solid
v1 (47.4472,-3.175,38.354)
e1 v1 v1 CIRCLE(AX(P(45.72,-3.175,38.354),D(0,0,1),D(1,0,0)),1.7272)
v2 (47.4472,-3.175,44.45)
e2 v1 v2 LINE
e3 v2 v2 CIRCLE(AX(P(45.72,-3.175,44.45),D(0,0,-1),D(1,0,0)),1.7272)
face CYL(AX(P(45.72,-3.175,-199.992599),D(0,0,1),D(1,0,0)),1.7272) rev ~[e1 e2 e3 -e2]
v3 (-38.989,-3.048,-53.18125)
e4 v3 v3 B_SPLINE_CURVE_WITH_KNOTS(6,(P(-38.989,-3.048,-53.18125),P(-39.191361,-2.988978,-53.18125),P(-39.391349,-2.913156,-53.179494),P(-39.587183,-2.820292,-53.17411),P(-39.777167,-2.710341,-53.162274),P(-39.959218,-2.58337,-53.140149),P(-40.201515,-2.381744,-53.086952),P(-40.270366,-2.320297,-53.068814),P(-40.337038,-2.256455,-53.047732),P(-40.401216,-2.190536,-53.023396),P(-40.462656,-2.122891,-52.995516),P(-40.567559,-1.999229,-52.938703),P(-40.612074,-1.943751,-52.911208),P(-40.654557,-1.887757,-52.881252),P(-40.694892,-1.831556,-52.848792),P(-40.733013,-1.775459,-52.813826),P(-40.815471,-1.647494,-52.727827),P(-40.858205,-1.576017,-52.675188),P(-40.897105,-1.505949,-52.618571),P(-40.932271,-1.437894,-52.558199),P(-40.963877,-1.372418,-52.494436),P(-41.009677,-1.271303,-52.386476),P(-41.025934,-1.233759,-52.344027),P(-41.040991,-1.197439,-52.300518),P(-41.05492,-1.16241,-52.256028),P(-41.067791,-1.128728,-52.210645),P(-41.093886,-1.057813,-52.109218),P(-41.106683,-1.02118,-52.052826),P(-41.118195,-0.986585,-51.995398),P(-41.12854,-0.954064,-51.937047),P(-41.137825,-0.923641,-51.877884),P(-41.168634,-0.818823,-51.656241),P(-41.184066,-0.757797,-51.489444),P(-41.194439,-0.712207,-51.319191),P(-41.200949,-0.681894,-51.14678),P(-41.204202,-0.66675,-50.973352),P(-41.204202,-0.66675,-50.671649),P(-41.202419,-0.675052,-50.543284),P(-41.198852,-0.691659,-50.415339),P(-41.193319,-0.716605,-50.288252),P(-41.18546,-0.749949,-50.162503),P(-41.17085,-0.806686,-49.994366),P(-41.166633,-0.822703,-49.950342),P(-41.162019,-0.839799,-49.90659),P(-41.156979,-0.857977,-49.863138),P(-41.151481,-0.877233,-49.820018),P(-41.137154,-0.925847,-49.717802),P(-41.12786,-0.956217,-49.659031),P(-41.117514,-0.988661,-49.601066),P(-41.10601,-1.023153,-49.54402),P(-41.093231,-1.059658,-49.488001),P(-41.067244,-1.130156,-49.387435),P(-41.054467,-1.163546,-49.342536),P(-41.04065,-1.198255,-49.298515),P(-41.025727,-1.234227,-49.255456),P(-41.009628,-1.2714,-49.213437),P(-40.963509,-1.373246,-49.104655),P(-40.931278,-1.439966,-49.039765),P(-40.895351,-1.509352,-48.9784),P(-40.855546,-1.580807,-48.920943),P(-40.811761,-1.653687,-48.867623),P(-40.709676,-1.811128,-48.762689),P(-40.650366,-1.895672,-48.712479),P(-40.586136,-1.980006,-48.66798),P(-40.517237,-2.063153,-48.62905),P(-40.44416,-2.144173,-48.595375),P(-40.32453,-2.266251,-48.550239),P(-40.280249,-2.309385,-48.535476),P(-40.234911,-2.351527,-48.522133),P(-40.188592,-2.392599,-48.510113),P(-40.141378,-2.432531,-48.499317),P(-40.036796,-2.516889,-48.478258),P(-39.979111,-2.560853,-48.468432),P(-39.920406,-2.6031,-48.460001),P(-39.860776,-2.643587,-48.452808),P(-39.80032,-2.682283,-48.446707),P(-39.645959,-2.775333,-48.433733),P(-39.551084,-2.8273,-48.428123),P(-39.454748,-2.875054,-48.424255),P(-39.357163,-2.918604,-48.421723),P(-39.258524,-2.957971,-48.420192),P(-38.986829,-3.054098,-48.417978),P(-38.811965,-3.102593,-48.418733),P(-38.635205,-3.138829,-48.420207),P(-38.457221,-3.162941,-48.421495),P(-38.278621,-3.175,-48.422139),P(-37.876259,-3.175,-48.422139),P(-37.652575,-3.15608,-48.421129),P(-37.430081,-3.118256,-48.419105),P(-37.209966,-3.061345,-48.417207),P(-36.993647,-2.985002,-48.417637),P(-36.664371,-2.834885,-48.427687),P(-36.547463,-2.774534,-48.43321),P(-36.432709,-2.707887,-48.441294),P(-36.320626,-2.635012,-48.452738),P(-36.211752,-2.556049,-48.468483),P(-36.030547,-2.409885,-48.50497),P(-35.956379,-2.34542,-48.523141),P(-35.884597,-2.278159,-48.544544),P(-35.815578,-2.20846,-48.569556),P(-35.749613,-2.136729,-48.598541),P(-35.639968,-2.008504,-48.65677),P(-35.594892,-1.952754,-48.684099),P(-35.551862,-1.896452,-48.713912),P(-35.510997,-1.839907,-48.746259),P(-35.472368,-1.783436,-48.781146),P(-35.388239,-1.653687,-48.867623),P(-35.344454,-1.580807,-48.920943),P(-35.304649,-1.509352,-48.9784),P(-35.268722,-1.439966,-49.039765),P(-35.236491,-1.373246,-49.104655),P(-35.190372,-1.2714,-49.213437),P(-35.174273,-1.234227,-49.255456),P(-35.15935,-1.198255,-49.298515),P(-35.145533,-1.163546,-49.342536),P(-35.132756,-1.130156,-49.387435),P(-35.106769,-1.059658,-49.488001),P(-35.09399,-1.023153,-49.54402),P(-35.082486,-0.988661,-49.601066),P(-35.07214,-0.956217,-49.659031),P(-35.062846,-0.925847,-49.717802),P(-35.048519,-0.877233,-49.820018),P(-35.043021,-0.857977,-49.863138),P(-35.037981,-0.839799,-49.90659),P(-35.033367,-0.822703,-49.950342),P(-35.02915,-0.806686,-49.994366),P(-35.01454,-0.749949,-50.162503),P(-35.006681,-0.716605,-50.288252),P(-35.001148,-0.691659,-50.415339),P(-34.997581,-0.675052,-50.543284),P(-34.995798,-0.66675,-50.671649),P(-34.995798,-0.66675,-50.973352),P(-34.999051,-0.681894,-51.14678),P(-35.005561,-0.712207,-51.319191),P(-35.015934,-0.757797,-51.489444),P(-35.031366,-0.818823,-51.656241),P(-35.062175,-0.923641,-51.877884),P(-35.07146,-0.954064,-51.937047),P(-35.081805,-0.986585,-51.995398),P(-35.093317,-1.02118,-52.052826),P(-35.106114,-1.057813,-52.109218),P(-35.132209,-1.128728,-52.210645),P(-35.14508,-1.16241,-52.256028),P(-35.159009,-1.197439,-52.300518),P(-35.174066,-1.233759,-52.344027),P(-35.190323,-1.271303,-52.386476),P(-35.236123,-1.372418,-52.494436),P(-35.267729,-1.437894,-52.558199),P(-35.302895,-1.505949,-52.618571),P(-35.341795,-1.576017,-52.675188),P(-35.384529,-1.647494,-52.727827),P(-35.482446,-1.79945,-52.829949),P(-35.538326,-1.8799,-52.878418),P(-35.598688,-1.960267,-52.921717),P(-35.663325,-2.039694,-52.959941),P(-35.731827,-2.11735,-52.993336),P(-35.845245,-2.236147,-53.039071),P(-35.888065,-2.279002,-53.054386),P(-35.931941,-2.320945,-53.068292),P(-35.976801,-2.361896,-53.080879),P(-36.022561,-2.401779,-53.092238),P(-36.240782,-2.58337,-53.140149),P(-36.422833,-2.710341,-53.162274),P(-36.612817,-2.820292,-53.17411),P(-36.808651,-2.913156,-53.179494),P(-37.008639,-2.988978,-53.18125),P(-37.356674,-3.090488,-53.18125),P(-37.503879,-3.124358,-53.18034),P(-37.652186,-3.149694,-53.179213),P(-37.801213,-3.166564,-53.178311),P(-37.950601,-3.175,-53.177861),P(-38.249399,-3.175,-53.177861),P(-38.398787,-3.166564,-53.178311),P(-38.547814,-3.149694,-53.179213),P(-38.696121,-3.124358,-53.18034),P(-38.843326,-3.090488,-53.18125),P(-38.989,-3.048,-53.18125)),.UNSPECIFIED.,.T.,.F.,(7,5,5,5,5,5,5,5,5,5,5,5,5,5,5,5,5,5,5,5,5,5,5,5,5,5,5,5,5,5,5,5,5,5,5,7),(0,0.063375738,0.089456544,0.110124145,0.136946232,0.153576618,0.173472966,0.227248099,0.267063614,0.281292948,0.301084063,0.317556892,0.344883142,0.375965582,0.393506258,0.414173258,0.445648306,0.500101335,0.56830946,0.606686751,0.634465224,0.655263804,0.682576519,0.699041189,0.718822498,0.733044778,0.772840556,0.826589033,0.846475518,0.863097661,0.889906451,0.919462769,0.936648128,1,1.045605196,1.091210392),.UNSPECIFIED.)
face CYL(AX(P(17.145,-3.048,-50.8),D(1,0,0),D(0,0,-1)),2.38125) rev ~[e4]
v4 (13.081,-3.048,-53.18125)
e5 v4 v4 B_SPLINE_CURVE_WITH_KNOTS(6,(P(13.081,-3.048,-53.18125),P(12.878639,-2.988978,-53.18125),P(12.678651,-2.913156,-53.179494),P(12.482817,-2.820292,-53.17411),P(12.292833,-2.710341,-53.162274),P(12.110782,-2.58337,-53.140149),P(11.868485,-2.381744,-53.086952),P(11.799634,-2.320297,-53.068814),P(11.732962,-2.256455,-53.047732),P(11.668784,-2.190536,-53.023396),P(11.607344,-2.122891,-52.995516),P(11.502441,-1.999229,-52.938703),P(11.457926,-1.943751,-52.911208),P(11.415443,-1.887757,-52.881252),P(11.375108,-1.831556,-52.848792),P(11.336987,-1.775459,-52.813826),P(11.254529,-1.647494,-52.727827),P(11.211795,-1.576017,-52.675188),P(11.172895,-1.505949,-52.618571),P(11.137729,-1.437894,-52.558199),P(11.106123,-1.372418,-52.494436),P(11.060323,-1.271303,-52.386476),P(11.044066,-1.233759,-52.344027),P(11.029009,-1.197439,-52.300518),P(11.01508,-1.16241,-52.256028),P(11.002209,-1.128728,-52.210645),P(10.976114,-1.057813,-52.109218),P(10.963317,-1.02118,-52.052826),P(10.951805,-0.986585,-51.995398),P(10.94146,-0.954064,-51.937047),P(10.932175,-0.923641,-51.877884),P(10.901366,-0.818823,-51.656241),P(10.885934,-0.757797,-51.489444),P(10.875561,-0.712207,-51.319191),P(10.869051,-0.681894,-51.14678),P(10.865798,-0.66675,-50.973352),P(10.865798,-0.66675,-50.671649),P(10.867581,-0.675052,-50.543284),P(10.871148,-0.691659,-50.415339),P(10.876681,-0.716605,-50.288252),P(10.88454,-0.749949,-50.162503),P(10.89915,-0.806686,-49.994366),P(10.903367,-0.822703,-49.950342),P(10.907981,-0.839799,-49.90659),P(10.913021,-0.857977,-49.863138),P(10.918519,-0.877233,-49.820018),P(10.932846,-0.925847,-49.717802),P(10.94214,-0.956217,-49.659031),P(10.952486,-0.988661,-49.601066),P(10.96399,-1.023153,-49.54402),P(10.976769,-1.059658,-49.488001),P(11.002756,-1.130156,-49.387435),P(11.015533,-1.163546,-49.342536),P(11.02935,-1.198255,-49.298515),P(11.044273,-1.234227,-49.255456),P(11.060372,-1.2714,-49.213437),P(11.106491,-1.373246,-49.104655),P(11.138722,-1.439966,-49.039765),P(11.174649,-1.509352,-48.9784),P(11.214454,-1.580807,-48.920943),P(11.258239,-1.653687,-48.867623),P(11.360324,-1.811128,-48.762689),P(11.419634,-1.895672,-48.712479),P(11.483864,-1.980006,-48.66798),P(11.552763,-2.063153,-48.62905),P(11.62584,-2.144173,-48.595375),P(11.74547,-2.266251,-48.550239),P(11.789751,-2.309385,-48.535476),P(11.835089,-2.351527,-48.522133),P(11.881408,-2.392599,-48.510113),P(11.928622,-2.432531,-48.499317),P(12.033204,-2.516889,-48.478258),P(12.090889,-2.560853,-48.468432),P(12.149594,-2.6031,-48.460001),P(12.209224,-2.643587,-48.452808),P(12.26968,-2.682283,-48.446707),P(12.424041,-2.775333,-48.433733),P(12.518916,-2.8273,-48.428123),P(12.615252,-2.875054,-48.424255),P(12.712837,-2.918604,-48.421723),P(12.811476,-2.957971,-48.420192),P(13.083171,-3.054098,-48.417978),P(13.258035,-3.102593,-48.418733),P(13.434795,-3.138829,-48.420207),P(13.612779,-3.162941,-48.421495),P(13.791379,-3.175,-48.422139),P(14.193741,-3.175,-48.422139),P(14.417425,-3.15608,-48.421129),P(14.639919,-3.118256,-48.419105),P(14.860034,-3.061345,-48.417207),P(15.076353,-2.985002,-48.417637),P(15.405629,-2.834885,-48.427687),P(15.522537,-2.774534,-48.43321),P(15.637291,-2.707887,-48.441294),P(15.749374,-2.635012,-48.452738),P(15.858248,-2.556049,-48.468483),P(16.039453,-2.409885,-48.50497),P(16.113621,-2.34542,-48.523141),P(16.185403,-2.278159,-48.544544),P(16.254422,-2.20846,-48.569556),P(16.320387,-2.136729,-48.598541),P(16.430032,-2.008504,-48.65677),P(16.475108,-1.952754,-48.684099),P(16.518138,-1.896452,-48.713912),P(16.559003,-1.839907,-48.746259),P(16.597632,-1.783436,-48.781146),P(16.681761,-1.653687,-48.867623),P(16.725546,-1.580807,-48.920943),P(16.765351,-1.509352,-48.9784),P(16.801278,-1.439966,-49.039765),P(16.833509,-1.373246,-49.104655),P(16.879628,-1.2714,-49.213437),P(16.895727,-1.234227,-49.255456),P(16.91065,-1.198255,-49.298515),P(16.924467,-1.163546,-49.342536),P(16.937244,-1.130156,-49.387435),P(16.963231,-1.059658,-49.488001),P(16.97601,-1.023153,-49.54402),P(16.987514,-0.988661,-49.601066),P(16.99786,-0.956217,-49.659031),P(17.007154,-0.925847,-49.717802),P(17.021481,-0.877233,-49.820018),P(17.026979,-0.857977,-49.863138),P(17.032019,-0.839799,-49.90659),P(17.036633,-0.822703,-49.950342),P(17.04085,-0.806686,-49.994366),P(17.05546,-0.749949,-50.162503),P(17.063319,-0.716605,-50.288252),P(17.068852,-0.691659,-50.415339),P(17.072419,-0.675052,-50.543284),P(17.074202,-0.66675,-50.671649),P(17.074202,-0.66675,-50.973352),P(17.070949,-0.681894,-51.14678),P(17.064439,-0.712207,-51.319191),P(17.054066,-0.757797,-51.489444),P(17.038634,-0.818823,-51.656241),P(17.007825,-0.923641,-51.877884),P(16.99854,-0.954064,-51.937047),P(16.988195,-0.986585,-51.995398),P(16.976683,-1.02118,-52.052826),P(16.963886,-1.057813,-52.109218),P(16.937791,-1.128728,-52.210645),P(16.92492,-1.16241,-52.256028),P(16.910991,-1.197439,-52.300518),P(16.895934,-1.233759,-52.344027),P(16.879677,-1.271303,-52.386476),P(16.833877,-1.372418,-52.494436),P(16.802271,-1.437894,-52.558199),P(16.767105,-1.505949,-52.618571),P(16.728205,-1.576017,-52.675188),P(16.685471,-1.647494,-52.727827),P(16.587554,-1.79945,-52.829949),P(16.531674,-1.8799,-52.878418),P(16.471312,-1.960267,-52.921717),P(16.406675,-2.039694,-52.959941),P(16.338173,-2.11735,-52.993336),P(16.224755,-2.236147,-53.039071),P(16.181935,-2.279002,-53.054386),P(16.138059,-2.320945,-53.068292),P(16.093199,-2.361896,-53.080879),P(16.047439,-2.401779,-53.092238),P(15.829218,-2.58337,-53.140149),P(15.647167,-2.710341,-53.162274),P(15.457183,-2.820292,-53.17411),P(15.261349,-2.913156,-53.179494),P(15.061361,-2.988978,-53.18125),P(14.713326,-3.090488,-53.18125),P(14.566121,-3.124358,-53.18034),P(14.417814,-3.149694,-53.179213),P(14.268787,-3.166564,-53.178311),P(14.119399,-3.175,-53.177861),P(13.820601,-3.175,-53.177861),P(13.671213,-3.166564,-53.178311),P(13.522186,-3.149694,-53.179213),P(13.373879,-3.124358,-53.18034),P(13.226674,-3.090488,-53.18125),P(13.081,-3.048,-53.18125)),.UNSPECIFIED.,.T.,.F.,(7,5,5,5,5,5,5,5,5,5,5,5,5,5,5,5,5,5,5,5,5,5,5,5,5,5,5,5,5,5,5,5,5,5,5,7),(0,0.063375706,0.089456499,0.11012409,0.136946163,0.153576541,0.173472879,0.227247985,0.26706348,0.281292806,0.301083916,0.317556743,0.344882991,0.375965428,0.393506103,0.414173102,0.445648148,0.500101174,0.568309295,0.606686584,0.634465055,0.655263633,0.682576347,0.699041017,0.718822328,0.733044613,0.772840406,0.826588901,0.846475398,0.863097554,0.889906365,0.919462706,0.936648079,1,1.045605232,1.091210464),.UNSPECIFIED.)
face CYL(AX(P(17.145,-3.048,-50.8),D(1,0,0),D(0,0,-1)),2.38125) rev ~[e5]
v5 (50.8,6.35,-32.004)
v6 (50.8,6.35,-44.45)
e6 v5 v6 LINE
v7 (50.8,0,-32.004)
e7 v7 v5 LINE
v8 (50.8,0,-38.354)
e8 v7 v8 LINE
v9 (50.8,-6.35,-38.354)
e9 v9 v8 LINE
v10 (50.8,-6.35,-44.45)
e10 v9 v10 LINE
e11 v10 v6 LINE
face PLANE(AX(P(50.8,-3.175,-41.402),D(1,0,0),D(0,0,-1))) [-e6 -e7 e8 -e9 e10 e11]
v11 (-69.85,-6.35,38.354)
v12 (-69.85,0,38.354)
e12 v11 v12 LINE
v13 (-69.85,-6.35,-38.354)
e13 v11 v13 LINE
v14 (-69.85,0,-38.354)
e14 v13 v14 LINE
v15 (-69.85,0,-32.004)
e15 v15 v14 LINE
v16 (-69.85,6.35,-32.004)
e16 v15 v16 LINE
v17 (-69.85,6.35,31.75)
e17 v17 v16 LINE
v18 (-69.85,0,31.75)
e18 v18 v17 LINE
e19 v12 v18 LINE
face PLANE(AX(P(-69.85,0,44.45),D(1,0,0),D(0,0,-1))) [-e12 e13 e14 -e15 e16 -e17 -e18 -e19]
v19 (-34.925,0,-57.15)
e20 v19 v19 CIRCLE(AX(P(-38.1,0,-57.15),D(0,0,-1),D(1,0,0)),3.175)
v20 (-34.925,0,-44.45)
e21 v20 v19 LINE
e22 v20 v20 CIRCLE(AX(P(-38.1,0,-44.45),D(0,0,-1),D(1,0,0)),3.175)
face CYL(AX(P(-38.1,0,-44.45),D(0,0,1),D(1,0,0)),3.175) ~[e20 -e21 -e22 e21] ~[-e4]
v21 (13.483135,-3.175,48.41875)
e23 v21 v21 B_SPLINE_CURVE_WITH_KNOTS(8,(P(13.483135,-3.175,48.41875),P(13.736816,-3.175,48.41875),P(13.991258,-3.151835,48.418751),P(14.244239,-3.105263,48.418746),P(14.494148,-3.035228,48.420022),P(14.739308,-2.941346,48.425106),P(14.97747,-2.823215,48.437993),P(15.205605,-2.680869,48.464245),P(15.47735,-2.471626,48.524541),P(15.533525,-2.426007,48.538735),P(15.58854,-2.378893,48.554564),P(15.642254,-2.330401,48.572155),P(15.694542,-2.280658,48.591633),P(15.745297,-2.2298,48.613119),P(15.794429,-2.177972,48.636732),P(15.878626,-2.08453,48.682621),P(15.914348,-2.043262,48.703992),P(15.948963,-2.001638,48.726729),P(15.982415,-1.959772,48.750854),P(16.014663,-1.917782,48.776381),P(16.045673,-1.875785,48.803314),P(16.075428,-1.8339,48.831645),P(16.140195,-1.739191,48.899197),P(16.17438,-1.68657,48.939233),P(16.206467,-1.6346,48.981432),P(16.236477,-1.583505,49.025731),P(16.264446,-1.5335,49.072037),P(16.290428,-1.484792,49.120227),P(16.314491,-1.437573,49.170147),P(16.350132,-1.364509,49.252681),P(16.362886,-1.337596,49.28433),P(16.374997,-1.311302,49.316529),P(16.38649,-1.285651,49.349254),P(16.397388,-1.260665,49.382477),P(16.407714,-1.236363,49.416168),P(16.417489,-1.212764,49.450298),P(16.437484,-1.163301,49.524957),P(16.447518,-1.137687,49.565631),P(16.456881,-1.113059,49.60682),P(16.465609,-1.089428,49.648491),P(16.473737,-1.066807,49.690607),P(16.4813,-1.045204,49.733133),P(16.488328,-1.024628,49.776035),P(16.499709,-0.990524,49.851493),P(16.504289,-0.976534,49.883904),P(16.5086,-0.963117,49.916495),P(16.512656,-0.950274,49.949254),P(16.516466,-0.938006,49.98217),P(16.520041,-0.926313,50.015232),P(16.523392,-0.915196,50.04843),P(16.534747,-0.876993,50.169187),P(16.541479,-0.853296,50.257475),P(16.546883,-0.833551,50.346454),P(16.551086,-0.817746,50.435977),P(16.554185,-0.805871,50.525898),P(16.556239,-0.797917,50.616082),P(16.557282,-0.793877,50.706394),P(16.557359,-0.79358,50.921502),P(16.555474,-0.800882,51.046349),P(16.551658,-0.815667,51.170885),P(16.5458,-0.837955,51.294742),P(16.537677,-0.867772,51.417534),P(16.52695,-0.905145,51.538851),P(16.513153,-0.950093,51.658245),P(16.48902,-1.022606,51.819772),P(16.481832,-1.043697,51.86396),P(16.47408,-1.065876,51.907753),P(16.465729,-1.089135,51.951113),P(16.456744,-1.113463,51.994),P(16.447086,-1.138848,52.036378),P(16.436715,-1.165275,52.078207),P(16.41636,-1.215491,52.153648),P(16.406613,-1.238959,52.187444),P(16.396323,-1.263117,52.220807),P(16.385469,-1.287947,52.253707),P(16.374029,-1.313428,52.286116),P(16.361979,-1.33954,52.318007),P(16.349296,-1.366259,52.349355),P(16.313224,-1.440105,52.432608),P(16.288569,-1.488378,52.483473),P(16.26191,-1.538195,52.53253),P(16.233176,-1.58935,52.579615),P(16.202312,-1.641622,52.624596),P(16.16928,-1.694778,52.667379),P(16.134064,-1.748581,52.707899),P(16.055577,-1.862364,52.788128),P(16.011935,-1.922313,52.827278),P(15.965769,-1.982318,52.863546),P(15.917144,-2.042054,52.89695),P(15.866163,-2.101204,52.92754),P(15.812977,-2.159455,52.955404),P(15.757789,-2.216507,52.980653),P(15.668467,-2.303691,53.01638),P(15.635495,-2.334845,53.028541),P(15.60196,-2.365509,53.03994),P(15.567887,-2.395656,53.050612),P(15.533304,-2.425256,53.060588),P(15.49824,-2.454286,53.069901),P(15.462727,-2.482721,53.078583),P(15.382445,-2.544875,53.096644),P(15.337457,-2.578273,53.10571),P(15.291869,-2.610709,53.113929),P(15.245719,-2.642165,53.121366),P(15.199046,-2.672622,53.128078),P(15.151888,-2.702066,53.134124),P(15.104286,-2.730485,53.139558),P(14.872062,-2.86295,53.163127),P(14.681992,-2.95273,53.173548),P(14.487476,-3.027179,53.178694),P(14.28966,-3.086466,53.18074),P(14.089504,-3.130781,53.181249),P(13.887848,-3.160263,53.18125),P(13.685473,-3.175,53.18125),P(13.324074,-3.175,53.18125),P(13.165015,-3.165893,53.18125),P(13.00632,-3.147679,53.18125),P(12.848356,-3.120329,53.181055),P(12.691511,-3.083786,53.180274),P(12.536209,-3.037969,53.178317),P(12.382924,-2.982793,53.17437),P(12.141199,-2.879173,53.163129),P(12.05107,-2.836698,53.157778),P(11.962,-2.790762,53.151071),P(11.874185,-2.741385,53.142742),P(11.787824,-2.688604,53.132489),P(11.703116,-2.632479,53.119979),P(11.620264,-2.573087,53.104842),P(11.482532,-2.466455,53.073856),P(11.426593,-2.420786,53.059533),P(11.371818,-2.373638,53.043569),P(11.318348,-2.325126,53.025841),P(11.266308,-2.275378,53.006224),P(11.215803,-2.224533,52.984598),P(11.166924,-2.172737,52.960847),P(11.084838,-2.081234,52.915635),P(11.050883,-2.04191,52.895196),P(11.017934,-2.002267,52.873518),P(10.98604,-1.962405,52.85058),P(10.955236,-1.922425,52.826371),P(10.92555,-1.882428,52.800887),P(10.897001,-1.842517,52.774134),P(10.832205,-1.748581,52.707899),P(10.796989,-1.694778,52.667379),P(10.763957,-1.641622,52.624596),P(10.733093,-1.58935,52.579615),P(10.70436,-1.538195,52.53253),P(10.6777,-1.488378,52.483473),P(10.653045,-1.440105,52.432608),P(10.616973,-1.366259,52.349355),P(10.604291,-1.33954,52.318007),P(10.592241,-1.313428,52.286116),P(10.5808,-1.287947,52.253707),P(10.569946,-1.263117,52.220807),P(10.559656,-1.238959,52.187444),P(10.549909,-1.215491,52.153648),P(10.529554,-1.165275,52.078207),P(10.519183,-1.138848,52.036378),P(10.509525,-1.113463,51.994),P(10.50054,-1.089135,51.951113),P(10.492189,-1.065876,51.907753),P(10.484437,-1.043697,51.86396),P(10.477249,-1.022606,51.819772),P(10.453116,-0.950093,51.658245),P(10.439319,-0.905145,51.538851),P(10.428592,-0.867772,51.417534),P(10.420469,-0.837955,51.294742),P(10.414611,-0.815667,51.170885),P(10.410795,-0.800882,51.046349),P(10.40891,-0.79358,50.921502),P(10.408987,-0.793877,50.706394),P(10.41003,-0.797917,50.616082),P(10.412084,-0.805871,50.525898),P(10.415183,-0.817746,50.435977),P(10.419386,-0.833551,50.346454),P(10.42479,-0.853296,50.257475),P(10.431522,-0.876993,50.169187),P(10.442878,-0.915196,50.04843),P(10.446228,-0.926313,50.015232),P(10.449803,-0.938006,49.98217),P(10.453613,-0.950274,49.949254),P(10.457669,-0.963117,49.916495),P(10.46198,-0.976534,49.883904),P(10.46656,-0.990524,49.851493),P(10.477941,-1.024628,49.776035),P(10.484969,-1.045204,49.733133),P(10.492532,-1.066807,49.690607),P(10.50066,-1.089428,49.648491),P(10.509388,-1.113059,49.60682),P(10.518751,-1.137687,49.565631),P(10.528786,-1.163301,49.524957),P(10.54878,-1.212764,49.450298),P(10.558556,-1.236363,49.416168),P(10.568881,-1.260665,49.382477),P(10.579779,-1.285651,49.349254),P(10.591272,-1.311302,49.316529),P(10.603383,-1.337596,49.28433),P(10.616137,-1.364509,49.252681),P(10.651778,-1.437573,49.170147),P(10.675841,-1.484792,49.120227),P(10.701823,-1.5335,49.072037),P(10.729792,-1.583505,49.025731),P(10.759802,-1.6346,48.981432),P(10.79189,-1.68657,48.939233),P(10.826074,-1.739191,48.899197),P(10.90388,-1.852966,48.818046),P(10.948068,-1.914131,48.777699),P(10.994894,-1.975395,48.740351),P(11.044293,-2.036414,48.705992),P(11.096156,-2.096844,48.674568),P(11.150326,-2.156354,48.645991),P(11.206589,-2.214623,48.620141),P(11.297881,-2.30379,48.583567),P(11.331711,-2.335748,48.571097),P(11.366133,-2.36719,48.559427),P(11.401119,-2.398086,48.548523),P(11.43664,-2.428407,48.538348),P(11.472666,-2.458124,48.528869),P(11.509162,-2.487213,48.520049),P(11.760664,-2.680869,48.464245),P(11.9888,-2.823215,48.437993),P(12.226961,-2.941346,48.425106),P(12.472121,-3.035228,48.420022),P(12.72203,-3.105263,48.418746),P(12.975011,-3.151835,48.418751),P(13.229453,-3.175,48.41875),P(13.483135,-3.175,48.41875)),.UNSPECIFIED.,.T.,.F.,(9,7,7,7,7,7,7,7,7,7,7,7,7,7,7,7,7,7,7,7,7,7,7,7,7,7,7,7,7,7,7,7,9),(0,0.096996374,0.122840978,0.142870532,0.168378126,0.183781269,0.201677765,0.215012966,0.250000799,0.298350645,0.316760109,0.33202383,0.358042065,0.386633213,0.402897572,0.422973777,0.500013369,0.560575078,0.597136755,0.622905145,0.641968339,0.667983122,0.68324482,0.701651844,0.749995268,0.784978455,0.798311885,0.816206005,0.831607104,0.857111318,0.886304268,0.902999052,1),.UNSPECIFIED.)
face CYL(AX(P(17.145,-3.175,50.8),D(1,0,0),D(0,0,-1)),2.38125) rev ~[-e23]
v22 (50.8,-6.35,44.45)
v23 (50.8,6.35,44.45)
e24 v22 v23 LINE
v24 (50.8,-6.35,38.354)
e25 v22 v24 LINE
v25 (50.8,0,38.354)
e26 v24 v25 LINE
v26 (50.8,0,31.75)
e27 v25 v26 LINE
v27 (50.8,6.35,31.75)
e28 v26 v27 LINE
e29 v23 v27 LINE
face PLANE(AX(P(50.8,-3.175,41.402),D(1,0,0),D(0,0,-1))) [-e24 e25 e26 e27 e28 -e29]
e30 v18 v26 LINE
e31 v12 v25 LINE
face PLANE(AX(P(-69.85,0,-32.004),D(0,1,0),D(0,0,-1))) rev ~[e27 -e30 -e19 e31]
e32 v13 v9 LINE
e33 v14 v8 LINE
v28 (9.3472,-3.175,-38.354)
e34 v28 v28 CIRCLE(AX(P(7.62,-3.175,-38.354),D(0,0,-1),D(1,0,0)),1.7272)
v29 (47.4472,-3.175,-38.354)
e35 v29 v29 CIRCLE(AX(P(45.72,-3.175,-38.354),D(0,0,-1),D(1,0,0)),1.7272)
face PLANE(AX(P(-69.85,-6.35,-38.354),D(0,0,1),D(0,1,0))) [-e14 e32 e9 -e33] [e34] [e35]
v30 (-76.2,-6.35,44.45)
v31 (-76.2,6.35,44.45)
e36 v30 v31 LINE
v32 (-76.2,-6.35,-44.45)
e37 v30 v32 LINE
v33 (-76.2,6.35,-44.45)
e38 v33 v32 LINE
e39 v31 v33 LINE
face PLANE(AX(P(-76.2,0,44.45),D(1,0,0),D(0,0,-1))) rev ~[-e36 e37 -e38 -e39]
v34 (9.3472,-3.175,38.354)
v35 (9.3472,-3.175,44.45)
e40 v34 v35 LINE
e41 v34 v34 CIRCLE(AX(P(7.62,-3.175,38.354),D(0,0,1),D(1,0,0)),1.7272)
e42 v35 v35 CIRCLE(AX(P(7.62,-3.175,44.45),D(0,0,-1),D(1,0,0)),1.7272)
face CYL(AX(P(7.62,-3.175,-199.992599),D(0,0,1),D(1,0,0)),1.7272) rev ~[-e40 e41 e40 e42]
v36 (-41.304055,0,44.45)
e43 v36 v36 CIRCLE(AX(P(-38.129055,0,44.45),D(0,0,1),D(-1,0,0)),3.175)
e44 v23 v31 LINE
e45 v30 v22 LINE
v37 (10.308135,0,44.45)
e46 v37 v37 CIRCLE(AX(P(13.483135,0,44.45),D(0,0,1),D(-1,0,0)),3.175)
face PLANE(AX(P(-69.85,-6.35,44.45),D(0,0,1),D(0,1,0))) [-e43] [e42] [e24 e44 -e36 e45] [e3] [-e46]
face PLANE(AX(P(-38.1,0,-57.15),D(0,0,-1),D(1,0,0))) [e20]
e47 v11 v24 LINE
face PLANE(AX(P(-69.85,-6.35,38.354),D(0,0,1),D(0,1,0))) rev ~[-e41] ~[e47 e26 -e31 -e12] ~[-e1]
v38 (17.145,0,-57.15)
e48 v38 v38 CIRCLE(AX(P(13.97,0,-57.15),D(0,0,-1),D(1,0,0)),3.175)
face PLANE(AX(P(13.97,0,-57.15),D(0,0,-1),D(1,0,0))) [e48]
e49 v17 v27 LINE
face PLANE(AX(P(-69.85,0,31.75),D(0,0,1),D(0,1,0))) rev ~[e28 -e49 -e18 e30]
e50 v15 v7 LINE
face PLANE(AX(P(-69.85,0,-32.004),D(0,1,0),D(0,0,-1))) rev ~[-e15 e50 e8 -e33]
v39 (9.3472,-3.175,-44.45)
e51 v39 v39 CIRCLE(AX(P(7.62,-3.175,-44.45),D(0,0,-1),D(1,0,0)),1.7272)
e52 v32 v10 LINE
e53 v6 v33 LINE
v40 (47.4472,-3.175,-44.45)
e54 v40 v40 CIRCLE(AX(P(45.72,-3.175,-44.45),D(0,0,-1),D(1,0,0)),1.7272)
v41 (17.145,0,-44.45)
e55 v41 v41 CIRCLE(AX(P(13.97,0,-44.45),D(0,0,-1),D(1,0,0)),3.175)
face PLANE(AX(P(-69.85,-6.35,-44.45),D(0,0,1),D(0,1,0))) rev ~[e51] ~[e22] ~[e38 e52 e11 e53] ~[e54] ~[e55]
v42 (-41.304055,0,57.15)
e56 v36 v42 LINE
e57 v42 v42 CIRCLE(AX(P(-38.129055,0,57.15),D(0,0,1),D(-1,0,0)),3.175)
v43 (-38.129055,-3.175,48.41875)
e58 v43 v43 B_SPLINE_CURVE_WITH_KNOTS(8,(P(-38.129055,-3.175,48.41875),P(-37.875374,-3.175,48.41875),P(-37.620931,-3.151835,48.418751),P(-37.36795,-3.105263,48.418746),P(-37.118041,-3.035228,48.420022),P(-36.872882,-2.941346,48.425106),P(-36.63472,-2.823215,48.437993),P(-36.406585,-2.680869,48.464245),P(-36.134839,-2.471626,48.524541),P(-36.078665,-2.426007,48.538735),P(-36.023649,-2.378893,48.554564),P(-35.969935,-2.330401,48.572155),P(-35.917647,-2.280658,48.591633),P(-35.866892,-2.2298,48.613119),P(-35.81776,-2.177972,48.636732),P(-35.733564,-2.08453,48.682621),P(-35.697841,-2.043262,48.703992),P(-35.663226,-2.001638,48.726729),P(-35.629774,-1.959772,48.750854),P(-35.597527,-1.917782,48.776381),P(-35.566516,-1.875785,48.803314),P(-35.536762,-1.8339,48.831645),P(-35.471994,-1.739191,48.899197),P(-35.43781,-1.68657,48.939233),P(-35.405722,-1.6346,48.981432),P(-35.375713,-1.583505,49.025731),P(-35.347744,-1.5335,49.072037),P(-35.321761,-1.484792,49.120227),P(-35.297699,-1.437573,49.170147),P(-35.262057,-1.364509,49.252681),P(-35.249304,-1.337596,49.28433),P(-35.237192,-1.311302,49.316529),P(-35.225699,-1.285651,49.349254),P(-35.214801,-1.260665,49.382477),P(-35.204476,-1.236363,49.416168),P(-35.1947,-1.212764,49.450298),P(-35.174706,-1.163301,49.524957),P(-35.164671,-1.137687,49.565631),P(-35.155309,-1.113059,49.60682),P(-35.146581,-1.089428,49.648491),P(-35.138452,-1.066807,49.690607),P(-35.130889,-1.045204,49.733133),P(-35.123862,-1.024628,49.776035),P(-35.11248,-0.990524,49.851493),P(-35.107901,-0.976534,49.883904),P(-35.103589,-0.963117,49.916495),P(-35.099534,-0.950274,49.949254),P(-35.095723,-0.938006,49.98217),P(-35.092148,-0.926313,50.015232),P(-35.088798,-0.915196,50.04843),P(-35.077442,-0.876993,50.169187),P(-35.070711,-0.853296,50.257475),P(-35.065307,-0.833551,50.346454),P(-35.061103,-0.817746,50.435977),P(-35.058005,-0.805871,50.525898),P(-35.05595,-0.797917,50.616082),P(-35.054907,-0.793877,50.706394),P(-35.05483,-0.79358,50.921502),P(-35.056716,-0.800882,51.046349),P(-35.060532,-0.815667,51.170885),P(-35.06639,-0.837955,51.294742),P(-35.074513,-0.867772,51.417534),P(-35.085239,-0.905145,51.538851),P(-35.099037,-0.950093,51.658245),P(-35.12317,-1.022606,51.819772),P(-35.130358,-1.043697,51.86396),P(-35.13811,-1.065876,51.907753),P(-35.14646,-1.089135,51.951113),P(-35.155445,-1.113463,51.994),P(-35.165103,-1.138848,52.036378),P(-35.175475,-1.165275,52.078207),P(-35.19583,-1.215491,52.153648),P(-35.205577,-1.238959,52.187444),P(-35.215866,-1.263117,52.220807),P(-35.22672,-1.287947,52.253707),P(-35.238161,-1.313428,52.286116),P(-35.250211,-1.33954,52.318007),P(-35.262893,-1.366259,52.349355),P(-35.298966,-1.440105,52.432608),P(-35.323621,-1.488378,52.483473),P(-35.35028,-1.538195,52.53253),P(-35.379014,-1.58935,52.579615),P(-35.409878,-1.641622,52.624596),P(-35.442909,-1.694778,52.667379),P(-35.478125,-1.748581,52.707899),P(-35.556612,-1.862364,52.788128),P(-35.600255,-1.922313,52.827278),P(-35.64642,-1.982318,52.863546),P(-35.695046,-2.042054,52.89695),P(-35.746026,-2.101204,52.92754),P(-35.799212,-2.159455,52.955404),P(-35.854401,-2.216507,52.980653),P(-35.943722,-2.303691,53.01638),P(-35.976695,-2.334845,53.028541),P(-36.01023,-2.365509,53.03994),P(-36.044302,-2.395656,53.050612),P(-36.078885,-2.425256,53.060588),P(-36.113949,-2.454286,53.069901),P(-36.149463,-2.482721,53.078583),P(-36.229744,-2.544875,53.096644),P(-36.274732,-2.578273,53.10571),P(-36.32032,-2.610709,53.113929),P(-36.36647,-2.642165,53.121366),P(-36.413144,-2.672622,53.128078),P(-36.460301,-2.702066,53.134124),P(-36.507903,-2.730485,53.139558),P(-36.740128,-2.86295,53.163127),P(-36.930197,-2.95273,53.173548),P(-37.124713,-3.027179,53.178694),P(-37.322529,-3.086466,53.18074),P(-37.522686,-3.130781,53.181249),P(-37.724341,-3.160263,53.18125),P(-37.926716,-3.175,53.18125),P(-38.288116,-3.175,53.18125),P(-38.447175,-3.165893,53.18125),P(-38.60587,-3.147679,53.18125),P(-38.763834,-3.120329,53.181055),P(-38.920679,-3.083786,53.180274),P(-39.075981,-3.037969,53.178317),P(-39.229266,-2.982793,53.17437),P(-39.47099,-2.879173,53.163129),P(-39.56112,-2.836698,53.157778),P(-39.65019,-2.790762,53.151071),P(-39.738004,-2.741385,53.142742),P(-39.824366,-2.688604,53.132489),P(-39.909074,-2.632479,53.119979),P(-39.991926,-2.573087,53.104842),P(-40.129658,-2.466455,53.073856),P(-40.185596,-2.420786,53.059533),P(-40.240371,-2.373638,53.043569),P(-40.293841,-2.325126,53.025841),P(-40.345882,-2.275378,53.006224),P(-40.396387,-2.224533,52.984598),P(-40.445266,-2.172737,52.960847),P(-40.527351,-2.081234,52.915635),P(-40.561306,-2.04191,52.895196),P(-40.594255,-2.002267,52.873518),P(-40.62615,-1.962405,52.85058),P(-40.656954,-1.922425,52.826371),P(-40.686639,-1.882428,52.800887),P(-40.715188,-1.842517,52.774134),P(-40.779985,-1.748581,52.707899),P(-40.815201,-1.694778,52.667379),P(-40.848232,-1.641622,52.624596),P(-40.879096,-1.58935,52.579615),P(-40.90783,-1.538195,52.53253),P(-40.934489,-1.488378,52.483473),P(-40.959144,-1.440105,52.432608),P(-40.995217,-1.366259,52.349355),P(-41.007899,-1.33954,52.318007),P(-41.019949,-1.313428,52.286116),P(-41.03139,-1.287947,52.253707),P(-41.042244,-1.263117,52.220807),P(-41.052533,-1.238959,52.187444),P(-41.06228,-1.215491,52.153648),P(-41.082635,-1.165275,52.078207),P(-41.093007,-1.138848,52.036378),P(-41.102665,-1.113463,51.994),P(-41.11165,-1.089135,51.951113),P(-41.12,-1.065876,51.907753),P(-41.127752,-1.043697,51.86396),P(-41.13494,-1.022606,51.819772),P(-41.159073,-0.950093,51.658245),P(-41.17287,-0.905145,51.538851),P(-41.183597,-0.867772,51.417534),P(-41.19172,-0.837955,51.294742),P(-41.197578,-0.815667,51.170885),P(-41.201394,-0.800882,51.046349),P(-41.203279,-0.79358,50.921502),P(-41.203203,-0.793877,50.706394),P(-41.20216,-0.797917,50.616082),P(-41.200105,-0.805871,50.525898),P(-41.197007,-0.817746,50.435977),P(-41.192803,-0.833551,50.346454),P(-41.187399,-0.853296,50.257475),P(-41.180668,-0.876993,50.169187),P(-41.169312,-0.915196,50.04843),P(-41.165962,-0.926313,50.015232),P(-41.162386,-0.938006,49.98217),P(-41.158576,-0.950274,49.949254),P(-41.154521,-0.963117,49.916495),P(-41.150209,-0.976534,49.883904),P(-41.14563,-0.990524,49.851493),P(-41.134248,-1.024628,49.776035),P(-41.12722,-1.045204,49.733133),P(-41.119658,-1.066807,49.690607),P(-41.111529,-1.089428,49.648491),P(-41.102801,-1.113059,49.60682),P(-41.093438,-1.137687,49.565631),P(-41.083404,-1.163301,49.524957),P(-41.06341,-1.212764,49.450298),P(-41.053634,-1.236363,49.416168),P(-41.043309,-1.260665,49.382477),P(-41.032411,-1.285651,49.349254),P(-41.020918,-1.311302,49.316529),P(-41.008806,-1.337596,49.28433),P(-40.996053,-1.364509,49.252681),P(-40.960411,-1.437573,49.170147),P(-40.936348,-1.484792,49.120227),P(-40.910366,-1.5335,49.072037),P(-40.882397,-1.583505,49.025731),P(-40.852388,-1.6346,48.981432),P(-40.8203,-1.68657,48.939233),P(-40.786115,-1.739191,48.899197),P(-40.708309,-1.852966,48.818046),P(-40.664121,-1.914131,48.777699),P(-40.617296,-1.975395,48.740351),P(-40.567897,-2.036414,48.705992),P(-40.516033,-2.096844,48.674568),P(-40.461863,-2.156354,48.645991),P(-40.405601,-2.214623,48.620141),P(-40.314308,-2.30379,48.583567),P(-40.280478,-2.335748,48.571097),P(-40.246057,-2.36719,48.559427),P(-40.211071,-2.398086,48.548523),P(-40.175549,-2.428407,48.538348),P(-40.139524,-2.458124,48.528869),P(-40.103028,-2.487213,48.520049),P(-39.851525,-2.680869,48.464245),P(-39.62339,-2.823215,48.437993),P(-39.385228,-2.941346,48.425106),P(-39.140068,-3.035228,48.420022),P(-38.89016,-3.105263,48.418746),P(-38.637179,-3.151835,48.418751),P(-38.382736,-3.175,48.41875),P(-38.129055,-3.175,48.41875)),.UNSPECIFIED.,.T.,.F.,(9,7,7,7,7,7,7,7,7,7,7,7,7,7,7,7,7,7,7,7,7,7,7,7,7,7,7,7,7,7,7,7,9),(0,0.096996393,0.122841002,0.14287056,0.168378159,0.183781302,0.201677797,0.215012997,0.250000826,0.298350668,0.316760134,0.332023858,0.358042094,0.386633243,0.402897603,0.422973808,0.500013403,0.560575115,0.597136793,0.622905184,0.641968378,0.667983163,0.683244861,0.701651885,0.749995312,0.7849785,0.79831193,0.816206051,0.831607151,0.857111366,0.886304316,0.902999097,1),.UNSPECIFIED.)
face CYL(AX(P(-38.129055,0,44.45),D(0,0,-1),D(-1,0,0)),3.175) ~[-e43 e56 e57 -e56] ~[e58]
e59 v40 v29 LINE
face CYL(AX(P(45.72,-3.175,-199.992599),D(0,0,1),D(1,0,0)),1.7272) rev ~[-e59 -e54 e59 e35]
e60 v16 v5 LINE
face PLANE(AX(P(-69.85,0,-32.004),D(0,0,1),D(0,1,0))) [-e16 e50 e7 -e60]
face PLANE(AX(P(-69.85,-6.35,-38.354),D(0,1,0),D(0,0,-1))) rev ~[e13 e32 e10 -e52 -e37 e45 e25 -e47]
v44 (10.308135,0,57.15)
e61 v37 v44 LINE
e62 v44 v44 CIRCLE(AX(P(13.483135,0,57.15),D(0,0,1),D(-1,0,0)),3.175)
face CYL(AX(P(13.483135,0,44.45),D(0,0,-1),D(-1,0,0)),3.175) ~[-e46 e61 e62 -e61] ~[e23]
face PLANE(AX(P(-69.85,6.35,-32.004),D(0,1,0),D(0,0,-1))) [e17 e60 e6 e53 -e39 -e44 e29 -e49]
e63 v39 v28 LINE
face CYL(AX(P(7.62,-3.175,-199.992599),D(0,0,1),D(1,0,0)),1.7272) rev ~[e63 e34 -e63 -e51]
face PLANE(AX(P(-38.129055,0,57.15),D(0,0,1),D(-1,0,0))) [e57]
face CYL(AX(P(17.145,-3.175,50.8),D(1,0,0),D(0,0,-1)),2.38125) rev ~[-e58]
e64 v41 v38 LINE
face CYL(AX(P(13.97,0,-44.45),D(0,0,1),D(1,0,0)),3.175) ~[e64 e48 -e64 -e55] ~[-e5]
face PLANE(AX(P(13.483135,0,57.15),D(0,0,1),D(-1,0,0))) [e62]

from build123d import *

# Parameters (mm, degrees)
SKETCH1_W                       = 6.35
SKETCH1_H                       = 88.9
BOSS_EXTRUDE1_DEPTH             = 6.35
SKETCH2_W                       = 12.7
SKETCH2_H                       = 6.35
BOSS_EXTRUDE2_DEPTH             = 120.65
SKETCH3_W                       = 12.446
SKETCH3_H                       = 6.35
BOSS_EXTRUDE3_DEPTH             = 120.65
SKETCH1_2_W                     = 6.35
SKETCH1_2_H                     = 88.9
BOSS_EXTRUDE4_DEPTH             = 6.35
SKETCH4_W                       = 6.096
SKETCH4_H                       = 6.35
BOSS_EXTRUDE5_DEPTH             = 120.65
SKETCH5_W                       = 6.096
SKETCH5_H                       = 6.35
BOSS_EXTRUDE6_DEPTH             = 120.65
F_8_32_TAPPED_HOLE1_D           = 3.4544
F_8_32_TAPPED_HOLE1_ON_FACE_2_D = 3.4544
SKETCH7_R                       = 3.175
BOSS_EXTRUDE7_DEPTH             = 12.7
SKETCH8_R                       = 3.175
BOSS_EXTRUDE8_DEPTH             = 12.7
SKETCH9_R                       = 3.175
BOSS_EXTRUDE10_DEPTH            = 12.7
SKETCH10_R                      = 3.175
BOSS_EXTRUDE11_DEPTH            = 12.7
SKETCH12_R                      = 2.38125
CUT_EXTRUDE2_DEPTH              = 127
SKETCH13_R                      = 2.38125
CUT_EXTRUDE3_DEPTH              = 127


with BuildPart() as part:
    # Sketch1 → Boss-Extrude1 (new body)
    with BuildSketch(Plane(origin=(0, 0, 0), x_dir=(1, 0, 0), z_dir=(0, 1, 0))):
        with Locations((-73.025, 0)):
            Rectangle(SKETCH1_W, SKETCH1_H)
    extrude(amount=BOSS_EXTRUDE1_DEPTH)

    # Sketch2 → Boss-Extrude2 (add)
    with BuildSketch(Plane(origin=(-69.85, 0, 0), x_dir=(0, 0, -1), z_dir=(1, 0, 0))):
        with Locations((-38.1, 3.175)):
            Rectangle(SKETCH2_W, SKETCH2_H)
    extrude(amount=BOSS_EXTRUDE2_DEPTH)

    # Sketch3 → Boss-Extrude3 (add)
    with BuildSketch(Plane(origin=(-69.85, 0, 0), x_dir=(0, 0, -1), z_dir=(1, 0, 0))):
        with Locations((38.227, 3.175)):
            Rectangle(SKETCH3_W, SKETCH3_H)
    extrude(amount=BOSS_EXTRUDE3_DEPTH)

    # Sketch1<2> → Boss-Extrude4 (add)
    with BuildSketch(Plane(origin=(0, 0, 0), x_dir=(1, 0, 0), z_dir=(0, 1, 0))):
        with Locations((-73.025, 0)):
            Rectangle(SKETCH1_2_W, SKETCH1_2_H)
    extrude(amount=-BOSS_EXTRUDE4_DEPTH)

    # Sketch4 → Boss-Extrude5 (add)
    with BuildSketch(Plane(origin=(-69.85, 0, 0), x_dir=(0, 0, -1), z_dir=(1, 0, 0))):
        with Locations((-41.402, -3.175)):
            Rectangle(SKETCH4_W, SKETCH4_H)
    extrude(amount=BOSS_EXTRUDE5_DEPTH)

    # Sketch5 → Boss-Extrude6 (add)
    with BuildSketch(Plane(origin=(-69.85, 0, 0), x_dir=(0, 0, -1), z_dir=(1, 0, 0))):
        with Locations((41.402, -3.175)):
            Rectangle(SKETCH5_W, SKETCH5_H)
    extrude(amount=BOSS_EXTRUDE6_DEPTH)

    # #8-32 Tapped Hole1 (through all)
    with Locations(Plane(origin=(45.72, -3.175, -44.45), x_dir=(-1, 0, 0), z_dir=(0, 0, -1))):
        with Locations((0, 0), (38.1, 0)):
            Hole(F_8_32_TAPPED_HOLE1_D / 2)

    # #8-32 Tapped Hole1 on face 2 (through all)
    with Locations(Plane(origin=(45.72, -3.175, 44.45), x_dir=(1, 0, 0), z_dir=(0, 0, 1))):
        with Locations((0, 0), (-38.1, 0)):
            Hole(F_8_32_TAPPED_HOLE1_ON_FACE_2_D / 2)

    # Sketch7 → Boss-Extrude7 (add)
    with BuildSketch(Plane(origin=(-14.456865446, 0, 44.45), x_dir=(1, 0, 0), z_dir=(0, 0, 1))):
        with Locations(Location((27.94, 0, 0), (0, 0, 180))):
            Circle(SKETCH7_R)
    extrude(amount=BOSS_EXTRUDE7_DEPTH)

    # Sketch8 → Boss-Extrude8 (add)
    with BuildSketch(Plane.XY.offset(44.45)):
        with Locations(Location((-38.12905493, 0, 0), (0, 0, 180))):
            Circle(SKETCH8_R)
    extrude(amount=BOSS_EXTRUDE8_DEPTH)

    # Sketch9 → Boss-Extrude10 (add)
    with BuildSketch(Plane(origin=(0, 0, -44.45), x_dir=(-1, 0, 0), z_dir=(0, 0, -1))):
        with Locations(Location((38.1, 0, 0), (0, 0, 180))):
            Circle(SKETCH9_R)
    extrude(amount=BOSS_EXTRUDE10_DEPTH)

    # Sketch10 → Boss-Extrude11 (add)
    with BuildSketch(Plane(origin=(0, 0, -44.45), x_dir=(-1, 0, 0), z_dir=(0, 0, -1))):
        with Locations(Location((-13.97, 0, 0), (0, 0, 180))):
            Circle(SKETCH10_R)
    extrude(amount=BOSS_EXTRUDE11_DEPTH)

    # Sketch12 → Cut-Extrude2 (cut)
    with BuildSketch(Plane(origin=(17.145, 0, 0), x_dir=(0, 0, -1), z_dir=(1, 0, 0))):
        with Locations((50.8, -3.048)):
            Circle(SKETCH12_R)
    extrude(amount=-CUT_EXTRUDE2_DEPTH, mode=Mode.SUBTRACT)

    # Sketch13 → Cut-Extrude3 (cut)
    with BuildSketch(Plane(origin=(17.145, 0, 0), x_dir=(0, 0, -1), z_dir=(1, 0, 0))):
        with Locations((-50.8, -3.175)):
            Circle(SKETCH13_R)
    extrude(amount=-CUT_EXTRUDE3_DEPTH, mode=Mode.SUBTRACT)


solid = part.part
